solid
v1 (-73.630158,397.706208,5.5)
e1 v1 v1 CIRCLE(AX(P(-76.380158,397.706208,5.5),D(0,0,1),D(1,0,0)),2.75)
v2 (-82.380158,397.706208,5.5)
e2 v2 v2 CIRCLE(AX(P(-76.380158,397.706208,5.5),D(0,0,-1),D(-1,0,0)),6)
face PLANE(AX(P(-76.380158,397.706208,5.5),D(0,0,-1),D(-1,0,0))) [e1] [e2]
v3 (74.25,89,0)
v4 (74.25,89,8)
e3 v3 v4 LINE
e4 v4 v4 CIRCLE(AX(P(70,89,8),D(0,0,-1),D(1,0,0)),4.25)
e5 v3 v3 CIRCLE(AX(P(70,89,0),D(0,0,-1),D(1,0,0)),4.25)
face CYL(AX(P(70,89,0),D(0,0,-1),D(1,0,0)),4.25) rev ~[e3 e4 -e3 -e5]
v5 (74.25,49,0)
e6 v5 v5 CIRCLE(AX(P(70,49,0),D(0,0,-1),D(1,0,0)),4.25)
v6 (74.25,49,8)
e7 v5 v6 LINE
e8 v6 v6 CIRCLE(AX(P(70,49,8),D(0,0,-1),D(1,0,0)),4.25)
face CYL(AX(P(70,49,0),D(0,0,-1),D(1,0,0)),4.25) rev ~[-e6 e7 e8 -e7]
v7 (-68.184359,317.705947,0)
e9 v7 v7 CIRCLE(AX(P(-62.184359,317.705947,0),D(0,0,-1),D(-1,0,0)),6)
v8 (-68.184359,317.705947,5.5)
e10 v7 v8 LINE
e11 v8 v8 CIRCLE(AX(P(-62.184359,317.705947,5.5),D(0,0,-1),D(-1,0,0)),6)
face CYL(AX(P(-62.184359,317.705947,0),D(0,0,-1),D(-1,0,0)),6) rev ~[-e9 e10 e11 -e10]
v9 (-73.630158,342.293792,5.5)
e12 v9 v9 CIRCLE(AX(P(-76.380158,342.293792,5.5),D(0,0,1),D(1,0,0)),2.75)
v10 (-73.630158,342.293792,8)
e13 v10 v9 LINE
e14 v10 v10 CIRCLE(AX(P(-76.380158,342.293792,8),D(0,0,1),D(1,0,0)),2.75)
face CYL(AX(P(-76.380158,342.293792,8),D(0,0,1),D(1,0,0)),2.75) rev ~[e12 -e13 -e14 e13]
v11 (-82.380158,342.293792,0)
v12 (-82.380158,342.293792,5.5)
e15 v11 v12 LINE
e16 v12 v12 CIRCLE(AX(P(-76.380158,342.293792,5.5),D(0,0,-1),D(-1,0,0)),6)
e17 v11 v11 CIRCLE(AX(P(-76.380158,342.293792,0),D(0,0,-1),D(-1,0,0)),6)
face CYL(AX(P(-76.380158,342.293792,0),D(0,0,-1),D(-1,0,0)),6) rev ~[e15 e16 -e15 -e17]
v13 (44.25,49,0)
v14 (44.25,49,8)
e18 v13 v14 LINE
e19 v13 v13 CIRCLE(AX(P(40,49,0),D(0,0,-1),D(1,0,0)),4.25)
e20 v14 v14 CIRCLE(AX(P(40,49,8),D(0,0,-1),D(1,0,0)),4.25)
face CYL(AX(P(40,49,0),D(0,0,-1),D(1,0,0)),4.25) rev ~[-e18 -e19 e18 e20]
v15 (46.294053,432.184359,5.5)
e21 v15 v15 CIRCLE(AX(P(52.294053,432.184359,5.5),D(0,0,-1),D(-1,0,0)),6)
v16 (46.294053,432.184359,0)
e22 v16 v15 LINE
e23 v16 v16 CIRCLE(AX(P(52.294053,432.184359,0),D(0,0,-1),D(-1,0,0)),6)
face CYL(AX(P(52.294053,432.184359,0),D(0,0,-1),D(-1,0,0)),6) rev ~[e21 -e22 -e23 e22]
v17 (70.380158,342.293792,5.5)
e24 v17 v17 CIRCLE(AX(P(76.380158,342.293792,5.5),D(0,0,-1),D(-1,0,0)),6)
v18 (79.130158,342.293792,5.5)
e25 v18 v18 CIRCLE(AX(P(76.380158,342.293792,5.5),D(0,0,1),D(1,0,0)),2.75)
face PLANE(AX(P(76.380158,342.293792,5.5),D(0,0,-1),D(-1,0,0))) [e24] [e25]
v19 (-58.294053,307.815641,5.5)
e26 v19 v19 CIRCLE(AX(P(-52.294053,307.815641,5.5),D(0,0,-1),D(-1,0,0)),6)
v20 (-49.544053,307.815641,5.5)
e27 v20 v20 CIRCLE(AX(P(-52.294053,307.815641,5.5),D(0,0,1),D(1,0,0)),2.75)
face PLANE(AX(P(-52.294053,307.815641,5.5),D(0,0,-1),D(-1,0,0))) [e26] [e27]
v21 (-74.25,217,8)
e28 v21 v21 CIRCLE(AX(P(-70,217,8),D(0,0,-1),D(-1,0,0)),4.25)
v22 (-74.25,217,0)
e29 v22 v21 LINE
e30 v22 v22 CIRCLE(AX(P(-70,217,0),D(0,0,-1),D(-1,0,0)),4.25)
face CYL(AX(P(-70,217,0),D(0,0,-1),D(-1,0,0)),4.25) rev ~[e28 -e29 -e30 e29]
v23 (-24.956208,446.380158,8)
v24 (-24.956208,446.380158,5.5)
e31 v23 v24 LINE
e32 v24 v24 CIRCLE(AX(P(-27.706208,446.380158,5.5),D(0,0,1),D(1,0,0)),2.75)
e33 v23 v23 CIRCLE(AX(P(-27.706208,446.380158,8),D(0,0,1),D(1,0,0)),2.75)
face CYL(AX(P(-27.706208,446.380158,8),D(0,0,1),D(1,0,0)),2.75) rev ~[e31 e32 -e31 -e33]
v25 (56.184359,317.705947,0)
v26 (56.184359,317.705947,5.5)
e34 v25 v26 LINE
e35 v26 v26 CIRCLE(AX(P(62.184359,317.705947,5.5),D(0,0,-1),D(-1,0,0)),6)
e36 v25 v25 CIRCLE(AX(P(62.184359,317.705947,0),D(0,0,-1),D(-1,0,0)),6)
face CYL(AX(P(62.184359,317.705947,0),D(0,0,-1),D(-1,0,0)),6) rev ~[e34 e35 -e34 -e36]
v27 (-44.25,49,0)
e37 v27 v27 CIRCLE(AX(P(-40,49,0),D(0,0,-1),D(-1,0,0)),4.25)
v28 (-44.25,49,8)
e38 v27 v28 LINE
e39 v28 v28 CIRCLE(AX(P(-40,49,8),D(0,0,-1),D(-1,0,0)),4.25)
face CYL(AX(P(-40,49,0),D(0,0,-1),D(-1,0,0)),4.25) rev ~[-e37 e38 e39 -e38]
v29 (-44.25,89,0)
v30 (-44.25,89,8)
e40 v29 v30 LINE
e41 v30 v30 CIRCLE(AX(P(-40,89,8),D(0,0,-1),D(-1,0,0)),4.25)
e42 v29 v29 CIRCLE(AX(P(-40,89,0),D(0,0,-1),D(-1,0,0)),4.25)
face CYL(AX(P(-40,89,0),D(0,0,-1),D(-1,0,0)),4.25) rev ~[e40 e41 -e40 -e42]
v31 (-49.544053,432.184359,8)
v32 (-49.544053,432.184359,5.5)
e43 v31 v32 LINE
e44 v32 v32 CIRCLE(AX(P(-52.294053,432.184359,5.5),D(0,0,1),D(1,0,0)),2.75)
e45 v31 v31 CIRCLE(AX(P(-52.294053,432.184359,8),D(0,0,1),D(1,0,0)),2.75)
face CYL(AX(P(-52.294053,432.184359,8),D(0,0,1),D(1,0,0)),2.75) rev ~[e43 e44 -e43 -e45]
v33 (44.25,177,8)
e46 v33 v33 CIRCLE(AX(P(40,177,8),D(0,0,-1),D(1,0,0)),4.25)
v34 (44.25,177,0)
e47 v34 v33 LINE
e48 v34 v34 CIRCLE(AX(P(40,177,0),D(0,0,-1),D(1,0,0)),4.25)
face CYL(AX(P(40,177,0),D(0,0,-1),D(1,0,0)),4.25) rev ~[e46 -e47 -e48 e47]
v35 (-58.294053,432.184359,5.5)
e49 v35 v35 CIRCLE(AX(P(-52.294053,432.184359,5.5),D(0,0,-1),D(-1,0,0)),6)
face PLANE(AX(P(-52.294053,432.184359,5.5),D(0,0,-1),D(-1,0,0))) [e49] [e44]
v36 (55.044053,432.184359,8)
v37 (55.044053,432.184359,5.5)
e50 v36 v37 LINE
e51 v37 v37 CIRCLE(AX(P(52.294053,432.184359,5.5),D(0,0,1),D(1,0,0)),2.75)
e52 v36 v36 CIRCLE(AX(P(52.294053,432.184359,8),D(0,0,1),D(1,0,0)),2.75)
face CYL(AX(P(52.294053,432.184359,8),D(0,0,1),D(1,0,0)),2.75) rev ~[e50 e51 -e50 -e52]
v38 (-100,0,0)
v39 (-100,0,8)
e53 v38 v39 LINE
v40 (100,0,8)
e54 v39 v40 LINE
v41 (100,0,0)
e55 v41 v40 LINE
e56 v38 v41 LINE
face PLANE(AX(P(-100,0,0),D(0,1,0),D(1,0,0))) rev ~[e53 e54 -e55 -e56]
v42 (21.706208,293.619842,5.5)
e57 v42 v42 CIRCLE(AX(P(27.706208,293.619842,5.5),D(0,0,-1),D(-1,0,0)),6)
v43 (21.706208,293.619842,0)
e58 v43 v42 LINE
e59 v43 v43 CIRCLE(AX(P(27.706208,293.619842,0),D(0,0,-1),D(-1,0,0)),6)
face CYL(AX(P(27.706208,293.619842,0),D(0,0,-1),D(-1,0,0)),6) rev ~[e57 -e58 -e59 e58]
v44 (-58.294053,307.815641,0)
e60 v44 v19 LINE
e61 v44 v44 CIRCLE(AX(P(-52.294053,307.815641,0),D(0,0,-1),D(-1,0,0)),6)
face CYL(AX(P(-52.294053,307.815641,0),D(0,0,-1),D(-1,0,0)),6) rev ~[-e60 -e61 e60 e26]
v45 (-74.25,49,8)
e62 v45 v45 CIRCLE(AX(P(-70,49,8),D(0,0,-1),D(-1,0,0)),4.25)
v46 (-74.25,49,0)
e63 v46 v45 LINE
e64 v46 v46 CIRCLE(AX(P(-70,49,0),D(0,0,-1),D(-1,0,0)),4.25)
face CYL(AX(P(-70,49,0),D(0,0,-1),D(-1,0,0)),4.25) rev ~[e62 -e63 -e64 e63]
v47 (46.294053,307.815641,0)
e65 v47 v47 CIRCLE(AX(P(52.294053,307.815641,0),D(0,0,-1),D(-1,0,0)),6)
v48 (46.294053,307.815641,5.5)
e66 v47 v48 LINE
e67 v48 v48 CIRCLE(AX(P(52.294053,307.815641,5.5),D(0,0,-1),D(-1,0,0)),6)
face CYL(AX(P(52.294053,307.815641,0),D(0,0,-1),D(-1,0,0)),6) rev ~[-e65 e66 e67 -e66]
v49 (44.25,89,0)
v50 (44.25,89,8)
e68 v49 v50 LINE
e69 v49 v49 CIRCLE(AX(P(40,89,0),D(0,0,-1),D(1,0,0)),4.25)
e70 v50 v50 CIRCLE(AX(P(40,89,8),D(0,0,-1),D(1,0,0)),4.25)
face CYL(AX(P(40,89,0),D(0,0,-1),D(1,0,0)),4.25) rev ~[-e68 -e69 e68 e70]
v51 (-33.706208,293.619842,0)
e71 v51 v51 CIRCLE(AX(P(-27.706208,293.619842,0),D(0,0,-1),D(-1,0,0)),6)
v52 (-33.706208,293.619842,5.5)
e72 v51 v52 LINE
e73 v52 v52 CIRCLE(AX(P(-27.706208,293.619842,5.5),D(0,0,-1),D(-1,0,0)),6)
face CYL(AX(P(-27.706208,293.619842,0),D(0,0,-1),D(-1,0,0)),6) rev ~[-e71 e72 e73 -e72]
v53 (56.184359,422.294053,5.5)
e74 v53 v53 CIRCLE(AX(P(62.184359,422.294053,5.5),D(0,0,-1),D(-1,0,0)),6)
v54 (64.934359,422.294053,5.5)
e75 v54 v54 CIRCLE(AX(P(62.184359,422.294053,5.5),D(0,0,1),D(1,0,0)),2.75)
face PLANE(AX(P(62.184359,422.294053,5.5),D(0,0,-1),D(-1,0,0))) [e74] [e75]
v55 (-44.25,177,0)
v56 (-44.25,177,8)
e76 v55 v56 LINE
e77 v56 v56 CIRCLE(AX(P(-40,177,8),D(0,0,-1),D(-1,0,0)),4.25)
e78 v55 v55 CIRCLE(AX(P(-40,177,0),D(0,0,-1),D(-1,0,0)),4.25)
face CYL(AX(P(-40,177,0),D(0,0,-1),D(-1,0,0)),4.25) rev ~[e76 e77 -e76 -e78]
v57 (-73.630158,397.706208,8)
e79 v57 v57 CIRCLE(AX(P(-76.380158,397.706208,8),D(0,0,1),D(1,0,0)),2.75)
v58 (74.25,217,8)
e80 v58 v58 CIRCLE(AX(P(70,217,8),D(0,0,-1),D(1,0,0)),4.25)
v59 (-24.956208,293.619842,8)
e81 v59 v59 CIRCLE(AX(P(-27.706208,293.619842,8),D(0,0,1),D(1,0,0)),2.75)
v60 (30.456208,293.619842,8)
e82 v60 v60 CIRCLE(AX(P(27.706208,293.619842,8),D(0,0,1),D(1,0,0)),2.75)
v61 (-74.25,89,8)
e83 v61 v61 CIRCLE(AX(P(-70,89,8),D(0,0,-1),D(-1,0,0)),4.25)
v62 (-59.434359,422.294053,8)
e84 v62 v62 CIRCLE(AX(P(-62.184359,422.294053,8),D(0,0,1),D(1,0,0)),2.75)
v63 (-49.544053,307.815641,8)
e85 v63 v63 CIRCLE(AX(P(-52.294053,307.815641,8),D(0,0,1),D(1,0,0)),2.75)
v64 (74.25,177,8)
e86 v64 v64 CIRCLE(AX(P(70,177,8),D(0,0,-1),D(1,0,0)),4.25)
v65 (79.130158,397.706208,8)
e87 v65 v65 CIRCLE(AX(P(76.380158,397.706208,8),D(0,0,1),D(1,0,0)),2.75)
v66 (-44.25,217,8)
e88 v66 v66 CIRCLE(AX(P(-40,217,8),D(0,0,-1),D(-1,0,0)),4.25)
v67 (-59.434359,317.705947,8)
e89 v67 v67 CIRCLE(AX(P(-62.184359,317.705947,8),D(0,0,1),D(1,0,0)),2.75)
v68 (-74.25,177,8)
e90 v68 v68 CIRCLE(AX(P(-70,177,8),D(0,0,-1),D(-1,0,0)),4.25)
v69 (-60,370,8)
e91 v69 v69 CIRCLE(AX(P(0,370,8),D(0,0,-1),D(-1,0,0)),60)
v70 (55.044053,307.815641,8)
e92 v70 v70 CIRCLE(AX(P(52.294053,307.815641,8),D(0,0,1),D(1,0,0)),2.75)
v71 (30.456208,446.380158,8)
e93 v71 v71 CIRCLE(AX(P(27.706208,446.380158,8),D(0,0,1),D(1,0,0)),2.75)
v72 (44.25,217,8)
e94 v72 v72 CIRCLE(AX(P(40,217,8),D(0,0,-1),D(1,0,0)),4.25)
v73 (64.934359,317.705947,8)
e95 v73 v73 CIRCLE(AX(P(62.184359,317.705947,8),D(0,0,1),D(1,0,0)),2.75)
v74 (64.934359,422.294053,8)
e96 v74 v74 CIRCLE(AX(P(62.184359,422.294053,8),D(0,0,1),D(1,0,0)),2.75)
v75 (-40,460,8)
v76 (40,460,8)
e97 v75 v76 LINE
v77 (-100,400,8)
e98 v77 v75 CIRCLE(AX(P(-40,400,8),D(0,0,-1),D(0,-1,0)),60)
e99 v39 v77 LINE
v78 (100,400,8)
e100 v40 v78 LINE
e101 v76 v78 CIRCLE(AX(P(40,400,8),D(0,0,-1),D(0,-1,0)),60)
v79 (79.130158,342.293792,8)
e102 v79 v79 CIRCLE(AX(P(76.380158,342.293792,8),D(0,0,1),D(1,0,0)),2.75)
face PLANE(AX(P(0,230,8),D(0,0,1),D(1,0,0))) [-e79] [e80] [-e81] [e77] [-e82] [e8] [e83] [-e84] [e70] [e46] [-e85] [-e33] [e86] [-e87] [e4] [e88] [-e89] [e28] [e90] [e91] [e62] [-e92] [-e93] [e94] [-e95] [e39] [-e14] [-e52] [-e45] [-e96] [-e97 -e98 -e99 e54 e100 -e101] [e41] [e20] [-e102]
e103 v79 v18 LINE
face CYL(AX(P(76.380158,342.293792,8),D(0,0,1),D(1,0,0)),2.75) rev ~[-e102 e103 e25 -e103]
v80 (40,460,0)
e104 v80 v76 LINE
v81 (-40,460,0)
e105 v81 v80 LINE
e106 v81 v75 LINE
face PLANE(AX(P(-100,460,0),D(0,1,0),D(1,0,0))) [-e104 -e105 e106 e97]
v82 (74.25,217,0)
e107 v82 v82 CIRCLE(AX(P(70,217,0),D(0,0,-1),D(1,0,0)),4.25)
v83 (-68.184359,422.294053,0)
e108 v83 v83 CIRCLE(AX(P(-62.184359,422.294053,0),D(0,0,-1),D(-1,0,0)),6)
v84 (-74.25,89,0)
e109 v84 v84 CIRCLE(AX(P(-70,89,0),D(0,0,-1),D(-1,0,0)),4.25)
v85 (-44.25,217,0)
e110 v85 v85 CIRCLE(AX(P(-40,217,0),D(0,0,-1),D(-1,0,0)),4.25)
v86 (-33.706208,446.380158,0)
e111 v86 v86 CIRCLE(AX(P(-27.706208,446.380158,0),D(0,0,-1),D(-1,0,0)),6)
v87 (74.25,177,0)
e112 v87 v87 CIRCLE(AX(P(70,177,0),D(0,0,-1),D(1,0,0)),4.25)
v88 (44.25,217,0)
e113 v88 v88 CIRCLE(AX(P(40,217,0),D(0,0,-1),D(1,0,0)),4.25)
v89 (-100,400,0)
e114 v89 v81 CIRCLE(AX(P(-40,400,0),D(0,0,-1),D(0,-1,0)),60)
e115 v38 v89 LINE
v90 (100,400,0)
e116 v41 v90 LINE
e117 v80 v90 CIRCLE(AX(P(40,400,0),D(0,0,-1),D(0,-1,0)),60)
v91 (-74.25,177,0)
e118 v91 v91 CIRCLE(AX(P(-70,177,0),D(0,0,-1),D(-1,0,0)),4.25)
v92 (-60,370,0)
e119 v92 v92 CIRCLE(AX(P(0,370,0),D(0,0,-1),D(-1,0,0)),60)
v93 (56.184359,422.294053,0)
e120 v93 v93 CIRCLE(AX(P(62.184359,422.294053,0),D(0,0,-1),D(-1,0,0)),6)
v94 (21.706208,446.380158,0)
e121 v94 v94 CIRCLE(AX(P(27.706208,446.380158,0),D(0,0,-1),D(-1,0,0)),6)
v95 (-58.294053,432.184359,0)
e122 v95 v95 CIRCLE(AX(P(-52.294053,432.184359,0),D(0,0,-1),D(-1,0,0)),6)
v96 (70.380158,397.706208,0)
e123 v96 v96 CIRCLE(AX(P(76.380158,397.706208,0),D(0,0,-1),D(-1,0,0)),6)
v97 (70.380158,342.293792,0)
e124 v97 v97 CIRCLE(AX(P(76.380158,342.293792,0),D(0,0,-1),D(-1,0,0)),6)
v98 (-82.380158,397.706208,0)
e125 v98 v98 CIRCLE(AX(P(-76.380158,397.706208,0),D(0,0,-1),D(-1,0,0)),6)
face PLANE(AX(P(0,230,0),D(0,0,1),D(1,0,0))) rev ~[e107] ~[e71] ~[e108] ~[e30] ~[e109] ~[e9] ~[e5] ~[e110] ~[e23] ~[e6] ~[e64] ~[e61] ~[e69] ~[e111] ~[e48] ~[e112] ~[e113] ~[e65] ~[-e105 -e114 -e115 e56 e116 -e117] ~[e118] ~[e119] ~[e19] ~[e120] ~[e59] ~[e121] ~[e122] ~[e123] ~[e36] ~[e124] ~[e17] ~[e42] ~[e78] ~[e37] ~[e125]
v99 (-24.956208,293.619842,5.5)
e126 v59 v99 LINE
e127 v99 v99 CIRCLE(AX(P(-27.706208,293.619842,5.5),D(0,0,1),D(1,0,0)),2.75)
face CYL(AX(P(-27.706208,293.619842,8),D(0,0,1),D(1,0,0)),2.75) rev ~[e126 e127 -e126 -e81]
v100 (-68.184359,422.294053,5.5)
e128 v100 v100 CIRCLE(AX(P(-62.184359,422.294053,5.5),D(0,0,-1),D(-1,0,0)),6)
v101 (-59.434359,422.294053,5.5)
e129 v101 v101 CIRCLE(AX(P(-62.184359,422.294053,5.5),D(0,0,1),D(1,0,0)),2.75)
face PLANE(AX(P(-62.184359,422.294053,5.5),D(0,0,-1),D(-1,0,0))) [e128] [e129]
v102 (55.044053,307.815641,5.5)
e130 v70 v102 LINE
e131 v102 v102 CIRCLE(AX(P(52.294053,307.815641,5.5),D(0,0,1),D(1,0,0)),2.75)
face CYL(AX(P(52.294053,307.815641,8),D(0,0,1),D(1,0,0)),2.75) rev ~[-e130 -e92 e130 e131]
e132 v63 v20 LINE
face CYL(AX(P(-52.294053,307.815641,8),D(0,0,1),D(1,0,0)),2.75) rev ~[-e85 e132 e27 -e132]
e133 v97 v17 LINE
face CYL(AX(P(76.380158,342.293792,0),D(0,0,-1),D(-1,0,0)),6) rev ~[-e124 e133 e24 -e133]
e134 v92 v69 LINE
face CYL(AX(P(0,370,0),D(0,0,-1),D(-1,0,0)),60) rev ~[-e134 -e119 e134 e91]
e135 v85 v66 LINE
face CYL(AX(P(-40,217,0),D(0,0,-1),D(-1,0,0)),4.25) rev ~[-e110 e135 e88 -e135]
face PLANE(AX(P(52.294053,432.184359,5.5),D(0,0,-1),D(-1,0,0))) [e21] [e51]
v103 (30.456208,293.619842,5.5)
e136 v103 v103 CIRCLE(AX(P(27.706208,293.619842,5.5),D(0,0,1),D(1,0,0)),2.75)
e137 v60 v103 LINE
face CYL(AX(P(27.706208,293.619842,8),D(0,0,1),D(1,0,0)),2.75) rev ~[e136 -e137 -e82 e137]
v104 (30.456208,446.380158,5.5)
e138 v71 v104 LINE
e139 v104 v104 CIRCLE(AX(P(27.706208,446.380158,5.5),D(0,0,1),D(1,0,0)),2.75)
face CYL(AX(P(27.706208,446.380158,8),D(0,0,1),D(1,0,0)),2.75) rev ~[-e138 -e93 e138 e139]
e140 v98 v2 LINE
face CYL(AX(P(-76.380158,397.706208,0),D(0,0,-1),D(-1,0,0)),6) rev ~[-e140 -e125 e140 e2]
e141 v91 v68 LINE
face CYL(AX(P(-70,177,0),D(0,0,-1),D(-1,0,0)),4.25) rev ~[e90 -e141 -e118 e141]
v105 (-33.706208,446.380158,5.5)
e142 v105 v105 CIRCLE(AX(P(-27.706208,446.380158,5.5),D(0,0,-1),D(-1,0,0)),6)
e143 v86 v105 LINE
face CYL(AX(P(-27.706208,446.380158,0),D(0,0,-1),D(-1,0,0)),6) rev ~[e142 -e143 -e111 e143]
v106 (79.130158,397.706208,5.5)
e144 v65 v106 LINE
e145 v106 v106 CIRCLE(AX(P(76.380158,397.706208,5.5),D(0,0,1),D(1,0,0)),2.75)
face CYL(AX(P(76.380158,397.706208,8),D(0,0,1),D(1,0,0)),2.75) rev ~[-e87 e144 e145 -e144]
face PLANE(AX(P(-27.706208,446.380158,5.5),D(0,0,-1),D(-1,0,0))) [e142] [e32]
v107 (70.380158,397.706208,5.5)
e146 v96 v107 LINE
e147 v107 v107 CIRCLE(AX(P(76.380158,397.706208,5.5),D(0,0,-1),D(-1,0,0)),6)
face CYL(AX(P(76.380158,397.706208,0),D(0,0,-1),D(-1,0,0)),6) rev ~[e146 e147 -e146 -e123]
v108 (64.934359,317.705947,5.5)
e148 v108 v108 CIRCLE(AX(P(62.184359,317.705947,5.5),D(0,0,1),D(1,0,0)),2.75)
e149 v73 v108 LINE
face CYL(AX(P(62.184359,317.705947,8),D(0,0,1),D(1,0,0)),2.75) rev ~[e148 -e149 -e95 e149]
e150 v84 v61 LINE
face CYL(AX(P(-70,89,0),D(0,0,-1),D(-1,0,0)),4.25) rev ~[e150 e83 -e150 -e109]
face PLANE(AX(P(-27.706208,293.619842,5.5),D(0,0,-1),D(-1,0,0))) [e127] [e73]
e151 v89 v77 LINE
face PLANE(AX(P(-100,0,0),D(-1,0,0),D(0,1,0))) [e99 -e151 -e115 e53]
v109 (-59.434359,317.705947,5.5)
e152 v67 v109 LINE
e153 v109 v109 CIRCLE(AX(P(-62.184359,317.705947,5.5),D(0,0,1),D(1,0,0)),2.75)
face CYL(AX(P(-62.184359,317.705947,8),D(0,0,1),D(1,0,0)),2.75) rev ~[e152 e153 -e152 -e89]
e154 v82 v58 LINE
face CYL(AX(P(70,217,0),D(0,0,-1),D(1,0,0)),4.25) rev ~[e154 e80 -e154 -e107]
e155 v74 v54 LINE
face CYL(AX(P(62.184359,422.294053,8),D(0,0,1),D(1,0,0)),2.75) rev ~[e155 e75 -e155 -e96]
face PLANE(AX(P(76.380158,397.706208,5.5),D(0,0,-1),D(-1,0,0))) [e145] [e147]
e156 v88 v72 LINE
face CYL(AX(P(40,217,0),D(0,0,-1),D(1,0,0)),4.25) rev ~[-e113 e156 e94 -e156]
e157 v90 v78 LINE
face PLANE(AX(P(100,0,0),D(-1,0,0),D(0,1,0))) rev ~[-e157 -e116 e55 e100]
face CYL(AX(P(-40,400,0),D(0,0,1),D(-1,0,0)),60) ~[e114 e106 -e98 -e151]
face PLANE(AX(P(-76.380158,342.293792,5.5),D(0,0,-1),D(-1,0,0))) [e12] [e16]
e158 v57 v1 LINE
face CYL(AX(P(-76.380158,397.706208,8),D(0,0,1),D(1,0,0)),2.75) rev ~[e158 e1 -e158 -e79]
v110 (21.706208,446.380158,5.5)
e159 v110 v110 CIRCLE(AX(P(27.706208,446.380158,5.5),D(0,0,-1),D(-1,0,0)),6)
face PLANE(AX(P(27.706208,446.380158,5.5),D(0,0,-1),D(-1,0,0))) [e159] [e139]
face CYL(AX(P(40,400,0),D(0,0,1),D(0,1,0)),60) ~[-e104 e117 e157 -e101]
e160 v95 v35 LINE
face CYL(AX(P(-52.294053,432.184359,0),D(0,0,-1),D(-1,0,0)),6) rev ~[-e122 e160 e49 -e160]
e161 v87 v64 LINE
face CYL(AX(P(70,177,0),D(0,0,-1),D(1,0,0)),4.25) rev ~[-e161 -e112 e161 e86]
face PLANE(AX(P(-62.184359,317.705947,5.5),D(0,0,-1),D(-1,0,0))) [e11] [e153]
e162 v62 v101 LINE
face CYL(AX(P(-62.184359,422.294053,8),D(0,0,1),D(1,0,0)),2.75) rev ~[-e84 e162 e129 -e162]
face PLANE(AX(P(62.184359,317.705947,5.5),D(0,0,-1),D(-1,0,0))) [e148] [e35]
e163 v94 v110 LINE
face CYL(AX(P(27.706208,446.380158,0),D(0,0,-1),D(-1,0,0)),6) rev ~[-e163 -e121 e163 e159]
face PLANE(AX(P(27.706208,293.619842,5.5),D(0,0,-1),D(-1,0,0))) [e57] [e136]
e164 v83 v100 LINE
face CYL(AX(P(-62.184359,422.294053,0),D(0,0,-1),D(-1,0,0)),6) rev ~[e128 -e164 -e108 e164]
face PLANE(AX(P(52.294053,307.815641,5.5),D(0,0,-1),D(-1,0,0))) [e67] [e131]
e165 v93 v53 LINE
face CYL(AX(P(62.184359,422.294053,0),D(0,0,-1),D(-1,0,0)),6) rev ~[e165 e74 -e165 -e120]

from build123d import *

# Parameters (mm, degrees)
SKETCH_1_W          = 200
SKETCH_1_H          = 460
EXTRUDE_1_DEPTH     = 8
SKETCH_2_R          = 60
CUT_EXTRUDE_1_DEPTH = 10
FILLET_1_R          = 60
SKETCH_3_R          = 2.75
CUT_EXTRUDE_2_DEPTH = 10
SKETCH_4_R          = 6
CUT_EXTRUDE_3_DEPTH = 5.5
SKETCH_5_R          = 4.25
CUT_EXTRUDE_4_DEPTH = 10


with BuildPart() as part:
    # 草图1 → 凸台-拉伸1 (new body)
    with BuildSketch(Plane.XY):
        with Locations((0, 230)):
            Rectangle(SKETCH_1_W, SKETCH_1_H)
    extrude(amount=EXTRUDE_1_DEPTH)

    # 草图2 → 切除-拉伸1 (cut)
    with BuildSketch(Plane(origin=(0, 0, 0), x_dir=(-1, 0, 0), z_dir=(0, 0, -1))):
        with Locations((0, 370)):
            Circle(SKETCH_2_R)
    extrude(amount=-CUT_EXTRUDE_1_DEPTH, mode=Mode.SUBTRACT)

    # 圆角1
    fillet_1_edges = [part.edges().sort_by_distance(p)[0] for p in [
        (100, 460, 4),
        (-100, 460, 4),
    ]]
    fillet(fillet_1_edges, radius=FILLET_1_R)

    # 草图3 → 切除-拉伸2 (cut)
    with BuildSketch(Plane.XY.offset(8)):
        with Locations((27.706208015, 446.380158009)):
            Circle(SKETCH_3_R)
        with Locations((52.294053173, 432.184358988)):
            Circle(SKETCH_3_R)
        with Locations((62.184358988, 422.294053173)):
            Circle(SKETCH_3_R)
        with Locations((76.380158009, 397.706208015)):
            Circle(SKETCH_3_R)
        with Locations((76.380158009, 342.293791985)):
            Circle(SKETCH_3_R)
        with Locations((62.184358988, 317.705946827)):
            Circle(SKETCH_3_R)
        with Locations((52.294053173, 307.815641012)):
            Circle(SKETCH_3_R)
        with Locations((27.706208015, 293.619841991)):
            Circle(SKETCH_3_R)
        with Locations((-27.706208015, 293.619841991)):
            Circle(SKETCH_3_R)
        with Locations((-52.294053173, 307.815641012)):
            Circle(SKETCH_3_R)
        with Locations((-62.184358988, 317.705946827)):
            Circle(SKETCH_3_R)
        with Locations((-76.380158009, 342.293791985)):
            Circle(SKETCH_3_R)
        with Locations((-76.380158009, 397.706208015)):
            Circle(SKETCH_3_R)
        with Locations((-62.184358988, 422.294053173)):
            Circle(SKETCH_3_R)
        with Locations((-52.294053173, 432.184358988)):
            Circle(SKETCH_3_R)
        with Locations((-27.706208015, 446.380158009)):
            Circle(SKETCH_3_R)
    extrude(amount=-CUT_EXTRUDE_2_DEPTH, mode=Mode.SUBTRACT)

    # 草图4 → 切除-拉伸3 (cut)
    with BuildSketch(Plane(origin=(0, 0, 0), x_dir=(-1, 0, 0), z_dir=(0, 0, -1))):
        with Locations((27.706208015, 446.380158009)):
            Circle(SKETCH_4_R)
        with Locations((52.294053173, 432.184358988)):
            Circle(SKETCH_4_R)
        with Locations((62.184358988, 422.294053173)):
            Circle(SKETCH_4_R)
        with Locations((76.380158009, 397.706208015)):
            Circle(SKETCH_4_R)
        with Locations((76.380158009, 342.293791985)):
            Circle(SKETCH_4_R)
        with Locations((62.184358988, 317.705946827)):
            Circle(SKETCH_4_R)
        with Locations((52.294053173, 307.815641012)):
            Circle(SKETCH_4_R)
        with Locations((27.706208015, 293.619841991)):
            Circle(SKETCH_4_R)
        with Locations((-27.706208015, 293.619841991)):
            Circle(SKETCH_4_R)
        with Locations((-52.294053173, 307.815641012)):
            Circle(SKETCH_4_R)
        with Locations((-62.184358988, 317.705946827)):
            Circle(SKETCH_4_R)
        with Locations((-76.380158009, 342.293791985)):
            Circle(SKETCH_4_R)
        with Locations((-76.380158009, 397.706208015)):
            Circle(SKETCH_4_R)
        with Locations((-62.184358988, 422.294053173)):
            Circle(SKETCH_4_R)
        with Locations((-52.294053173, 432.184358988)):
            Circle(SKETCH_4_R)
        with Locations((-27.706208015, 446.380158009)):
            Circle(SKETCH_4_R)
    extrude(amount=-CUT_EXTRUDE_3_DEPTH, mode=Mode.SUBTRACT)

    # 草图5 → 切除-拉伸4 (cut)
    with BuildSketch(Plane(origin=(0, 0, 0), x_dir=(-1, 0, 0), z_dir=(0, 0, -1))):
        with Locations((40, 49)):
            Circle(SKETCH_5_R)
        with Locations((70, 49)):
            Circle(SKETCH_5_R)
        with Locations((40, 89)):
            Circle(SKETCH_5_R)
        with Locations((70, 89)):
            Circle(SKETCH_5_R)
        with Locations((40, 217)):
            Circle(SKETCH_5_R)
        with Locations((70, 177)):
            Circle(SKETCH_5_R)
        with Locations((40, 177)):
            Circle(SKETCH_5_R)
        with Locations((70, 217)):
            Circle(SKETCH_5_R)
        with Locations(Location((-70, 217, 0), (0, 0, 180))):
            Circle(SKETCH_5_R)
        with Locations(Location((-40, 177, 0), (0, 0, 180))):
            Circle(SKETCH_5_R)
        with Locations(Location((-70, 177, 0), (0, 0, 180))):
            Circle(SKETCH_5_R)
        with Locations(Location((-40, 217, 0), (0, 0, 180))):
            Circle(SKETCH_5_R)
        with Locations(Location((-70, 89, 0), (0, 0, 180))):
            Circle(SKETCH_5_R)
        with Locations(Location((-40, 89, 0), (0, 0, 180))):
            Circle(SKETCH_5_R)
        with Locations(Location((-70, 49, 0), (0, 0, 180))):
            Circle(SKETCH_5_R)
        with Locations(Location((-40, 49, 0), (0, 0, 180))):
            Circle(SKETCH_5_R)
    extrude(amount=-CUT_EXTRUDE_4_DEPTH, mode=Mode.SUBTRACT)


solid = part.part
